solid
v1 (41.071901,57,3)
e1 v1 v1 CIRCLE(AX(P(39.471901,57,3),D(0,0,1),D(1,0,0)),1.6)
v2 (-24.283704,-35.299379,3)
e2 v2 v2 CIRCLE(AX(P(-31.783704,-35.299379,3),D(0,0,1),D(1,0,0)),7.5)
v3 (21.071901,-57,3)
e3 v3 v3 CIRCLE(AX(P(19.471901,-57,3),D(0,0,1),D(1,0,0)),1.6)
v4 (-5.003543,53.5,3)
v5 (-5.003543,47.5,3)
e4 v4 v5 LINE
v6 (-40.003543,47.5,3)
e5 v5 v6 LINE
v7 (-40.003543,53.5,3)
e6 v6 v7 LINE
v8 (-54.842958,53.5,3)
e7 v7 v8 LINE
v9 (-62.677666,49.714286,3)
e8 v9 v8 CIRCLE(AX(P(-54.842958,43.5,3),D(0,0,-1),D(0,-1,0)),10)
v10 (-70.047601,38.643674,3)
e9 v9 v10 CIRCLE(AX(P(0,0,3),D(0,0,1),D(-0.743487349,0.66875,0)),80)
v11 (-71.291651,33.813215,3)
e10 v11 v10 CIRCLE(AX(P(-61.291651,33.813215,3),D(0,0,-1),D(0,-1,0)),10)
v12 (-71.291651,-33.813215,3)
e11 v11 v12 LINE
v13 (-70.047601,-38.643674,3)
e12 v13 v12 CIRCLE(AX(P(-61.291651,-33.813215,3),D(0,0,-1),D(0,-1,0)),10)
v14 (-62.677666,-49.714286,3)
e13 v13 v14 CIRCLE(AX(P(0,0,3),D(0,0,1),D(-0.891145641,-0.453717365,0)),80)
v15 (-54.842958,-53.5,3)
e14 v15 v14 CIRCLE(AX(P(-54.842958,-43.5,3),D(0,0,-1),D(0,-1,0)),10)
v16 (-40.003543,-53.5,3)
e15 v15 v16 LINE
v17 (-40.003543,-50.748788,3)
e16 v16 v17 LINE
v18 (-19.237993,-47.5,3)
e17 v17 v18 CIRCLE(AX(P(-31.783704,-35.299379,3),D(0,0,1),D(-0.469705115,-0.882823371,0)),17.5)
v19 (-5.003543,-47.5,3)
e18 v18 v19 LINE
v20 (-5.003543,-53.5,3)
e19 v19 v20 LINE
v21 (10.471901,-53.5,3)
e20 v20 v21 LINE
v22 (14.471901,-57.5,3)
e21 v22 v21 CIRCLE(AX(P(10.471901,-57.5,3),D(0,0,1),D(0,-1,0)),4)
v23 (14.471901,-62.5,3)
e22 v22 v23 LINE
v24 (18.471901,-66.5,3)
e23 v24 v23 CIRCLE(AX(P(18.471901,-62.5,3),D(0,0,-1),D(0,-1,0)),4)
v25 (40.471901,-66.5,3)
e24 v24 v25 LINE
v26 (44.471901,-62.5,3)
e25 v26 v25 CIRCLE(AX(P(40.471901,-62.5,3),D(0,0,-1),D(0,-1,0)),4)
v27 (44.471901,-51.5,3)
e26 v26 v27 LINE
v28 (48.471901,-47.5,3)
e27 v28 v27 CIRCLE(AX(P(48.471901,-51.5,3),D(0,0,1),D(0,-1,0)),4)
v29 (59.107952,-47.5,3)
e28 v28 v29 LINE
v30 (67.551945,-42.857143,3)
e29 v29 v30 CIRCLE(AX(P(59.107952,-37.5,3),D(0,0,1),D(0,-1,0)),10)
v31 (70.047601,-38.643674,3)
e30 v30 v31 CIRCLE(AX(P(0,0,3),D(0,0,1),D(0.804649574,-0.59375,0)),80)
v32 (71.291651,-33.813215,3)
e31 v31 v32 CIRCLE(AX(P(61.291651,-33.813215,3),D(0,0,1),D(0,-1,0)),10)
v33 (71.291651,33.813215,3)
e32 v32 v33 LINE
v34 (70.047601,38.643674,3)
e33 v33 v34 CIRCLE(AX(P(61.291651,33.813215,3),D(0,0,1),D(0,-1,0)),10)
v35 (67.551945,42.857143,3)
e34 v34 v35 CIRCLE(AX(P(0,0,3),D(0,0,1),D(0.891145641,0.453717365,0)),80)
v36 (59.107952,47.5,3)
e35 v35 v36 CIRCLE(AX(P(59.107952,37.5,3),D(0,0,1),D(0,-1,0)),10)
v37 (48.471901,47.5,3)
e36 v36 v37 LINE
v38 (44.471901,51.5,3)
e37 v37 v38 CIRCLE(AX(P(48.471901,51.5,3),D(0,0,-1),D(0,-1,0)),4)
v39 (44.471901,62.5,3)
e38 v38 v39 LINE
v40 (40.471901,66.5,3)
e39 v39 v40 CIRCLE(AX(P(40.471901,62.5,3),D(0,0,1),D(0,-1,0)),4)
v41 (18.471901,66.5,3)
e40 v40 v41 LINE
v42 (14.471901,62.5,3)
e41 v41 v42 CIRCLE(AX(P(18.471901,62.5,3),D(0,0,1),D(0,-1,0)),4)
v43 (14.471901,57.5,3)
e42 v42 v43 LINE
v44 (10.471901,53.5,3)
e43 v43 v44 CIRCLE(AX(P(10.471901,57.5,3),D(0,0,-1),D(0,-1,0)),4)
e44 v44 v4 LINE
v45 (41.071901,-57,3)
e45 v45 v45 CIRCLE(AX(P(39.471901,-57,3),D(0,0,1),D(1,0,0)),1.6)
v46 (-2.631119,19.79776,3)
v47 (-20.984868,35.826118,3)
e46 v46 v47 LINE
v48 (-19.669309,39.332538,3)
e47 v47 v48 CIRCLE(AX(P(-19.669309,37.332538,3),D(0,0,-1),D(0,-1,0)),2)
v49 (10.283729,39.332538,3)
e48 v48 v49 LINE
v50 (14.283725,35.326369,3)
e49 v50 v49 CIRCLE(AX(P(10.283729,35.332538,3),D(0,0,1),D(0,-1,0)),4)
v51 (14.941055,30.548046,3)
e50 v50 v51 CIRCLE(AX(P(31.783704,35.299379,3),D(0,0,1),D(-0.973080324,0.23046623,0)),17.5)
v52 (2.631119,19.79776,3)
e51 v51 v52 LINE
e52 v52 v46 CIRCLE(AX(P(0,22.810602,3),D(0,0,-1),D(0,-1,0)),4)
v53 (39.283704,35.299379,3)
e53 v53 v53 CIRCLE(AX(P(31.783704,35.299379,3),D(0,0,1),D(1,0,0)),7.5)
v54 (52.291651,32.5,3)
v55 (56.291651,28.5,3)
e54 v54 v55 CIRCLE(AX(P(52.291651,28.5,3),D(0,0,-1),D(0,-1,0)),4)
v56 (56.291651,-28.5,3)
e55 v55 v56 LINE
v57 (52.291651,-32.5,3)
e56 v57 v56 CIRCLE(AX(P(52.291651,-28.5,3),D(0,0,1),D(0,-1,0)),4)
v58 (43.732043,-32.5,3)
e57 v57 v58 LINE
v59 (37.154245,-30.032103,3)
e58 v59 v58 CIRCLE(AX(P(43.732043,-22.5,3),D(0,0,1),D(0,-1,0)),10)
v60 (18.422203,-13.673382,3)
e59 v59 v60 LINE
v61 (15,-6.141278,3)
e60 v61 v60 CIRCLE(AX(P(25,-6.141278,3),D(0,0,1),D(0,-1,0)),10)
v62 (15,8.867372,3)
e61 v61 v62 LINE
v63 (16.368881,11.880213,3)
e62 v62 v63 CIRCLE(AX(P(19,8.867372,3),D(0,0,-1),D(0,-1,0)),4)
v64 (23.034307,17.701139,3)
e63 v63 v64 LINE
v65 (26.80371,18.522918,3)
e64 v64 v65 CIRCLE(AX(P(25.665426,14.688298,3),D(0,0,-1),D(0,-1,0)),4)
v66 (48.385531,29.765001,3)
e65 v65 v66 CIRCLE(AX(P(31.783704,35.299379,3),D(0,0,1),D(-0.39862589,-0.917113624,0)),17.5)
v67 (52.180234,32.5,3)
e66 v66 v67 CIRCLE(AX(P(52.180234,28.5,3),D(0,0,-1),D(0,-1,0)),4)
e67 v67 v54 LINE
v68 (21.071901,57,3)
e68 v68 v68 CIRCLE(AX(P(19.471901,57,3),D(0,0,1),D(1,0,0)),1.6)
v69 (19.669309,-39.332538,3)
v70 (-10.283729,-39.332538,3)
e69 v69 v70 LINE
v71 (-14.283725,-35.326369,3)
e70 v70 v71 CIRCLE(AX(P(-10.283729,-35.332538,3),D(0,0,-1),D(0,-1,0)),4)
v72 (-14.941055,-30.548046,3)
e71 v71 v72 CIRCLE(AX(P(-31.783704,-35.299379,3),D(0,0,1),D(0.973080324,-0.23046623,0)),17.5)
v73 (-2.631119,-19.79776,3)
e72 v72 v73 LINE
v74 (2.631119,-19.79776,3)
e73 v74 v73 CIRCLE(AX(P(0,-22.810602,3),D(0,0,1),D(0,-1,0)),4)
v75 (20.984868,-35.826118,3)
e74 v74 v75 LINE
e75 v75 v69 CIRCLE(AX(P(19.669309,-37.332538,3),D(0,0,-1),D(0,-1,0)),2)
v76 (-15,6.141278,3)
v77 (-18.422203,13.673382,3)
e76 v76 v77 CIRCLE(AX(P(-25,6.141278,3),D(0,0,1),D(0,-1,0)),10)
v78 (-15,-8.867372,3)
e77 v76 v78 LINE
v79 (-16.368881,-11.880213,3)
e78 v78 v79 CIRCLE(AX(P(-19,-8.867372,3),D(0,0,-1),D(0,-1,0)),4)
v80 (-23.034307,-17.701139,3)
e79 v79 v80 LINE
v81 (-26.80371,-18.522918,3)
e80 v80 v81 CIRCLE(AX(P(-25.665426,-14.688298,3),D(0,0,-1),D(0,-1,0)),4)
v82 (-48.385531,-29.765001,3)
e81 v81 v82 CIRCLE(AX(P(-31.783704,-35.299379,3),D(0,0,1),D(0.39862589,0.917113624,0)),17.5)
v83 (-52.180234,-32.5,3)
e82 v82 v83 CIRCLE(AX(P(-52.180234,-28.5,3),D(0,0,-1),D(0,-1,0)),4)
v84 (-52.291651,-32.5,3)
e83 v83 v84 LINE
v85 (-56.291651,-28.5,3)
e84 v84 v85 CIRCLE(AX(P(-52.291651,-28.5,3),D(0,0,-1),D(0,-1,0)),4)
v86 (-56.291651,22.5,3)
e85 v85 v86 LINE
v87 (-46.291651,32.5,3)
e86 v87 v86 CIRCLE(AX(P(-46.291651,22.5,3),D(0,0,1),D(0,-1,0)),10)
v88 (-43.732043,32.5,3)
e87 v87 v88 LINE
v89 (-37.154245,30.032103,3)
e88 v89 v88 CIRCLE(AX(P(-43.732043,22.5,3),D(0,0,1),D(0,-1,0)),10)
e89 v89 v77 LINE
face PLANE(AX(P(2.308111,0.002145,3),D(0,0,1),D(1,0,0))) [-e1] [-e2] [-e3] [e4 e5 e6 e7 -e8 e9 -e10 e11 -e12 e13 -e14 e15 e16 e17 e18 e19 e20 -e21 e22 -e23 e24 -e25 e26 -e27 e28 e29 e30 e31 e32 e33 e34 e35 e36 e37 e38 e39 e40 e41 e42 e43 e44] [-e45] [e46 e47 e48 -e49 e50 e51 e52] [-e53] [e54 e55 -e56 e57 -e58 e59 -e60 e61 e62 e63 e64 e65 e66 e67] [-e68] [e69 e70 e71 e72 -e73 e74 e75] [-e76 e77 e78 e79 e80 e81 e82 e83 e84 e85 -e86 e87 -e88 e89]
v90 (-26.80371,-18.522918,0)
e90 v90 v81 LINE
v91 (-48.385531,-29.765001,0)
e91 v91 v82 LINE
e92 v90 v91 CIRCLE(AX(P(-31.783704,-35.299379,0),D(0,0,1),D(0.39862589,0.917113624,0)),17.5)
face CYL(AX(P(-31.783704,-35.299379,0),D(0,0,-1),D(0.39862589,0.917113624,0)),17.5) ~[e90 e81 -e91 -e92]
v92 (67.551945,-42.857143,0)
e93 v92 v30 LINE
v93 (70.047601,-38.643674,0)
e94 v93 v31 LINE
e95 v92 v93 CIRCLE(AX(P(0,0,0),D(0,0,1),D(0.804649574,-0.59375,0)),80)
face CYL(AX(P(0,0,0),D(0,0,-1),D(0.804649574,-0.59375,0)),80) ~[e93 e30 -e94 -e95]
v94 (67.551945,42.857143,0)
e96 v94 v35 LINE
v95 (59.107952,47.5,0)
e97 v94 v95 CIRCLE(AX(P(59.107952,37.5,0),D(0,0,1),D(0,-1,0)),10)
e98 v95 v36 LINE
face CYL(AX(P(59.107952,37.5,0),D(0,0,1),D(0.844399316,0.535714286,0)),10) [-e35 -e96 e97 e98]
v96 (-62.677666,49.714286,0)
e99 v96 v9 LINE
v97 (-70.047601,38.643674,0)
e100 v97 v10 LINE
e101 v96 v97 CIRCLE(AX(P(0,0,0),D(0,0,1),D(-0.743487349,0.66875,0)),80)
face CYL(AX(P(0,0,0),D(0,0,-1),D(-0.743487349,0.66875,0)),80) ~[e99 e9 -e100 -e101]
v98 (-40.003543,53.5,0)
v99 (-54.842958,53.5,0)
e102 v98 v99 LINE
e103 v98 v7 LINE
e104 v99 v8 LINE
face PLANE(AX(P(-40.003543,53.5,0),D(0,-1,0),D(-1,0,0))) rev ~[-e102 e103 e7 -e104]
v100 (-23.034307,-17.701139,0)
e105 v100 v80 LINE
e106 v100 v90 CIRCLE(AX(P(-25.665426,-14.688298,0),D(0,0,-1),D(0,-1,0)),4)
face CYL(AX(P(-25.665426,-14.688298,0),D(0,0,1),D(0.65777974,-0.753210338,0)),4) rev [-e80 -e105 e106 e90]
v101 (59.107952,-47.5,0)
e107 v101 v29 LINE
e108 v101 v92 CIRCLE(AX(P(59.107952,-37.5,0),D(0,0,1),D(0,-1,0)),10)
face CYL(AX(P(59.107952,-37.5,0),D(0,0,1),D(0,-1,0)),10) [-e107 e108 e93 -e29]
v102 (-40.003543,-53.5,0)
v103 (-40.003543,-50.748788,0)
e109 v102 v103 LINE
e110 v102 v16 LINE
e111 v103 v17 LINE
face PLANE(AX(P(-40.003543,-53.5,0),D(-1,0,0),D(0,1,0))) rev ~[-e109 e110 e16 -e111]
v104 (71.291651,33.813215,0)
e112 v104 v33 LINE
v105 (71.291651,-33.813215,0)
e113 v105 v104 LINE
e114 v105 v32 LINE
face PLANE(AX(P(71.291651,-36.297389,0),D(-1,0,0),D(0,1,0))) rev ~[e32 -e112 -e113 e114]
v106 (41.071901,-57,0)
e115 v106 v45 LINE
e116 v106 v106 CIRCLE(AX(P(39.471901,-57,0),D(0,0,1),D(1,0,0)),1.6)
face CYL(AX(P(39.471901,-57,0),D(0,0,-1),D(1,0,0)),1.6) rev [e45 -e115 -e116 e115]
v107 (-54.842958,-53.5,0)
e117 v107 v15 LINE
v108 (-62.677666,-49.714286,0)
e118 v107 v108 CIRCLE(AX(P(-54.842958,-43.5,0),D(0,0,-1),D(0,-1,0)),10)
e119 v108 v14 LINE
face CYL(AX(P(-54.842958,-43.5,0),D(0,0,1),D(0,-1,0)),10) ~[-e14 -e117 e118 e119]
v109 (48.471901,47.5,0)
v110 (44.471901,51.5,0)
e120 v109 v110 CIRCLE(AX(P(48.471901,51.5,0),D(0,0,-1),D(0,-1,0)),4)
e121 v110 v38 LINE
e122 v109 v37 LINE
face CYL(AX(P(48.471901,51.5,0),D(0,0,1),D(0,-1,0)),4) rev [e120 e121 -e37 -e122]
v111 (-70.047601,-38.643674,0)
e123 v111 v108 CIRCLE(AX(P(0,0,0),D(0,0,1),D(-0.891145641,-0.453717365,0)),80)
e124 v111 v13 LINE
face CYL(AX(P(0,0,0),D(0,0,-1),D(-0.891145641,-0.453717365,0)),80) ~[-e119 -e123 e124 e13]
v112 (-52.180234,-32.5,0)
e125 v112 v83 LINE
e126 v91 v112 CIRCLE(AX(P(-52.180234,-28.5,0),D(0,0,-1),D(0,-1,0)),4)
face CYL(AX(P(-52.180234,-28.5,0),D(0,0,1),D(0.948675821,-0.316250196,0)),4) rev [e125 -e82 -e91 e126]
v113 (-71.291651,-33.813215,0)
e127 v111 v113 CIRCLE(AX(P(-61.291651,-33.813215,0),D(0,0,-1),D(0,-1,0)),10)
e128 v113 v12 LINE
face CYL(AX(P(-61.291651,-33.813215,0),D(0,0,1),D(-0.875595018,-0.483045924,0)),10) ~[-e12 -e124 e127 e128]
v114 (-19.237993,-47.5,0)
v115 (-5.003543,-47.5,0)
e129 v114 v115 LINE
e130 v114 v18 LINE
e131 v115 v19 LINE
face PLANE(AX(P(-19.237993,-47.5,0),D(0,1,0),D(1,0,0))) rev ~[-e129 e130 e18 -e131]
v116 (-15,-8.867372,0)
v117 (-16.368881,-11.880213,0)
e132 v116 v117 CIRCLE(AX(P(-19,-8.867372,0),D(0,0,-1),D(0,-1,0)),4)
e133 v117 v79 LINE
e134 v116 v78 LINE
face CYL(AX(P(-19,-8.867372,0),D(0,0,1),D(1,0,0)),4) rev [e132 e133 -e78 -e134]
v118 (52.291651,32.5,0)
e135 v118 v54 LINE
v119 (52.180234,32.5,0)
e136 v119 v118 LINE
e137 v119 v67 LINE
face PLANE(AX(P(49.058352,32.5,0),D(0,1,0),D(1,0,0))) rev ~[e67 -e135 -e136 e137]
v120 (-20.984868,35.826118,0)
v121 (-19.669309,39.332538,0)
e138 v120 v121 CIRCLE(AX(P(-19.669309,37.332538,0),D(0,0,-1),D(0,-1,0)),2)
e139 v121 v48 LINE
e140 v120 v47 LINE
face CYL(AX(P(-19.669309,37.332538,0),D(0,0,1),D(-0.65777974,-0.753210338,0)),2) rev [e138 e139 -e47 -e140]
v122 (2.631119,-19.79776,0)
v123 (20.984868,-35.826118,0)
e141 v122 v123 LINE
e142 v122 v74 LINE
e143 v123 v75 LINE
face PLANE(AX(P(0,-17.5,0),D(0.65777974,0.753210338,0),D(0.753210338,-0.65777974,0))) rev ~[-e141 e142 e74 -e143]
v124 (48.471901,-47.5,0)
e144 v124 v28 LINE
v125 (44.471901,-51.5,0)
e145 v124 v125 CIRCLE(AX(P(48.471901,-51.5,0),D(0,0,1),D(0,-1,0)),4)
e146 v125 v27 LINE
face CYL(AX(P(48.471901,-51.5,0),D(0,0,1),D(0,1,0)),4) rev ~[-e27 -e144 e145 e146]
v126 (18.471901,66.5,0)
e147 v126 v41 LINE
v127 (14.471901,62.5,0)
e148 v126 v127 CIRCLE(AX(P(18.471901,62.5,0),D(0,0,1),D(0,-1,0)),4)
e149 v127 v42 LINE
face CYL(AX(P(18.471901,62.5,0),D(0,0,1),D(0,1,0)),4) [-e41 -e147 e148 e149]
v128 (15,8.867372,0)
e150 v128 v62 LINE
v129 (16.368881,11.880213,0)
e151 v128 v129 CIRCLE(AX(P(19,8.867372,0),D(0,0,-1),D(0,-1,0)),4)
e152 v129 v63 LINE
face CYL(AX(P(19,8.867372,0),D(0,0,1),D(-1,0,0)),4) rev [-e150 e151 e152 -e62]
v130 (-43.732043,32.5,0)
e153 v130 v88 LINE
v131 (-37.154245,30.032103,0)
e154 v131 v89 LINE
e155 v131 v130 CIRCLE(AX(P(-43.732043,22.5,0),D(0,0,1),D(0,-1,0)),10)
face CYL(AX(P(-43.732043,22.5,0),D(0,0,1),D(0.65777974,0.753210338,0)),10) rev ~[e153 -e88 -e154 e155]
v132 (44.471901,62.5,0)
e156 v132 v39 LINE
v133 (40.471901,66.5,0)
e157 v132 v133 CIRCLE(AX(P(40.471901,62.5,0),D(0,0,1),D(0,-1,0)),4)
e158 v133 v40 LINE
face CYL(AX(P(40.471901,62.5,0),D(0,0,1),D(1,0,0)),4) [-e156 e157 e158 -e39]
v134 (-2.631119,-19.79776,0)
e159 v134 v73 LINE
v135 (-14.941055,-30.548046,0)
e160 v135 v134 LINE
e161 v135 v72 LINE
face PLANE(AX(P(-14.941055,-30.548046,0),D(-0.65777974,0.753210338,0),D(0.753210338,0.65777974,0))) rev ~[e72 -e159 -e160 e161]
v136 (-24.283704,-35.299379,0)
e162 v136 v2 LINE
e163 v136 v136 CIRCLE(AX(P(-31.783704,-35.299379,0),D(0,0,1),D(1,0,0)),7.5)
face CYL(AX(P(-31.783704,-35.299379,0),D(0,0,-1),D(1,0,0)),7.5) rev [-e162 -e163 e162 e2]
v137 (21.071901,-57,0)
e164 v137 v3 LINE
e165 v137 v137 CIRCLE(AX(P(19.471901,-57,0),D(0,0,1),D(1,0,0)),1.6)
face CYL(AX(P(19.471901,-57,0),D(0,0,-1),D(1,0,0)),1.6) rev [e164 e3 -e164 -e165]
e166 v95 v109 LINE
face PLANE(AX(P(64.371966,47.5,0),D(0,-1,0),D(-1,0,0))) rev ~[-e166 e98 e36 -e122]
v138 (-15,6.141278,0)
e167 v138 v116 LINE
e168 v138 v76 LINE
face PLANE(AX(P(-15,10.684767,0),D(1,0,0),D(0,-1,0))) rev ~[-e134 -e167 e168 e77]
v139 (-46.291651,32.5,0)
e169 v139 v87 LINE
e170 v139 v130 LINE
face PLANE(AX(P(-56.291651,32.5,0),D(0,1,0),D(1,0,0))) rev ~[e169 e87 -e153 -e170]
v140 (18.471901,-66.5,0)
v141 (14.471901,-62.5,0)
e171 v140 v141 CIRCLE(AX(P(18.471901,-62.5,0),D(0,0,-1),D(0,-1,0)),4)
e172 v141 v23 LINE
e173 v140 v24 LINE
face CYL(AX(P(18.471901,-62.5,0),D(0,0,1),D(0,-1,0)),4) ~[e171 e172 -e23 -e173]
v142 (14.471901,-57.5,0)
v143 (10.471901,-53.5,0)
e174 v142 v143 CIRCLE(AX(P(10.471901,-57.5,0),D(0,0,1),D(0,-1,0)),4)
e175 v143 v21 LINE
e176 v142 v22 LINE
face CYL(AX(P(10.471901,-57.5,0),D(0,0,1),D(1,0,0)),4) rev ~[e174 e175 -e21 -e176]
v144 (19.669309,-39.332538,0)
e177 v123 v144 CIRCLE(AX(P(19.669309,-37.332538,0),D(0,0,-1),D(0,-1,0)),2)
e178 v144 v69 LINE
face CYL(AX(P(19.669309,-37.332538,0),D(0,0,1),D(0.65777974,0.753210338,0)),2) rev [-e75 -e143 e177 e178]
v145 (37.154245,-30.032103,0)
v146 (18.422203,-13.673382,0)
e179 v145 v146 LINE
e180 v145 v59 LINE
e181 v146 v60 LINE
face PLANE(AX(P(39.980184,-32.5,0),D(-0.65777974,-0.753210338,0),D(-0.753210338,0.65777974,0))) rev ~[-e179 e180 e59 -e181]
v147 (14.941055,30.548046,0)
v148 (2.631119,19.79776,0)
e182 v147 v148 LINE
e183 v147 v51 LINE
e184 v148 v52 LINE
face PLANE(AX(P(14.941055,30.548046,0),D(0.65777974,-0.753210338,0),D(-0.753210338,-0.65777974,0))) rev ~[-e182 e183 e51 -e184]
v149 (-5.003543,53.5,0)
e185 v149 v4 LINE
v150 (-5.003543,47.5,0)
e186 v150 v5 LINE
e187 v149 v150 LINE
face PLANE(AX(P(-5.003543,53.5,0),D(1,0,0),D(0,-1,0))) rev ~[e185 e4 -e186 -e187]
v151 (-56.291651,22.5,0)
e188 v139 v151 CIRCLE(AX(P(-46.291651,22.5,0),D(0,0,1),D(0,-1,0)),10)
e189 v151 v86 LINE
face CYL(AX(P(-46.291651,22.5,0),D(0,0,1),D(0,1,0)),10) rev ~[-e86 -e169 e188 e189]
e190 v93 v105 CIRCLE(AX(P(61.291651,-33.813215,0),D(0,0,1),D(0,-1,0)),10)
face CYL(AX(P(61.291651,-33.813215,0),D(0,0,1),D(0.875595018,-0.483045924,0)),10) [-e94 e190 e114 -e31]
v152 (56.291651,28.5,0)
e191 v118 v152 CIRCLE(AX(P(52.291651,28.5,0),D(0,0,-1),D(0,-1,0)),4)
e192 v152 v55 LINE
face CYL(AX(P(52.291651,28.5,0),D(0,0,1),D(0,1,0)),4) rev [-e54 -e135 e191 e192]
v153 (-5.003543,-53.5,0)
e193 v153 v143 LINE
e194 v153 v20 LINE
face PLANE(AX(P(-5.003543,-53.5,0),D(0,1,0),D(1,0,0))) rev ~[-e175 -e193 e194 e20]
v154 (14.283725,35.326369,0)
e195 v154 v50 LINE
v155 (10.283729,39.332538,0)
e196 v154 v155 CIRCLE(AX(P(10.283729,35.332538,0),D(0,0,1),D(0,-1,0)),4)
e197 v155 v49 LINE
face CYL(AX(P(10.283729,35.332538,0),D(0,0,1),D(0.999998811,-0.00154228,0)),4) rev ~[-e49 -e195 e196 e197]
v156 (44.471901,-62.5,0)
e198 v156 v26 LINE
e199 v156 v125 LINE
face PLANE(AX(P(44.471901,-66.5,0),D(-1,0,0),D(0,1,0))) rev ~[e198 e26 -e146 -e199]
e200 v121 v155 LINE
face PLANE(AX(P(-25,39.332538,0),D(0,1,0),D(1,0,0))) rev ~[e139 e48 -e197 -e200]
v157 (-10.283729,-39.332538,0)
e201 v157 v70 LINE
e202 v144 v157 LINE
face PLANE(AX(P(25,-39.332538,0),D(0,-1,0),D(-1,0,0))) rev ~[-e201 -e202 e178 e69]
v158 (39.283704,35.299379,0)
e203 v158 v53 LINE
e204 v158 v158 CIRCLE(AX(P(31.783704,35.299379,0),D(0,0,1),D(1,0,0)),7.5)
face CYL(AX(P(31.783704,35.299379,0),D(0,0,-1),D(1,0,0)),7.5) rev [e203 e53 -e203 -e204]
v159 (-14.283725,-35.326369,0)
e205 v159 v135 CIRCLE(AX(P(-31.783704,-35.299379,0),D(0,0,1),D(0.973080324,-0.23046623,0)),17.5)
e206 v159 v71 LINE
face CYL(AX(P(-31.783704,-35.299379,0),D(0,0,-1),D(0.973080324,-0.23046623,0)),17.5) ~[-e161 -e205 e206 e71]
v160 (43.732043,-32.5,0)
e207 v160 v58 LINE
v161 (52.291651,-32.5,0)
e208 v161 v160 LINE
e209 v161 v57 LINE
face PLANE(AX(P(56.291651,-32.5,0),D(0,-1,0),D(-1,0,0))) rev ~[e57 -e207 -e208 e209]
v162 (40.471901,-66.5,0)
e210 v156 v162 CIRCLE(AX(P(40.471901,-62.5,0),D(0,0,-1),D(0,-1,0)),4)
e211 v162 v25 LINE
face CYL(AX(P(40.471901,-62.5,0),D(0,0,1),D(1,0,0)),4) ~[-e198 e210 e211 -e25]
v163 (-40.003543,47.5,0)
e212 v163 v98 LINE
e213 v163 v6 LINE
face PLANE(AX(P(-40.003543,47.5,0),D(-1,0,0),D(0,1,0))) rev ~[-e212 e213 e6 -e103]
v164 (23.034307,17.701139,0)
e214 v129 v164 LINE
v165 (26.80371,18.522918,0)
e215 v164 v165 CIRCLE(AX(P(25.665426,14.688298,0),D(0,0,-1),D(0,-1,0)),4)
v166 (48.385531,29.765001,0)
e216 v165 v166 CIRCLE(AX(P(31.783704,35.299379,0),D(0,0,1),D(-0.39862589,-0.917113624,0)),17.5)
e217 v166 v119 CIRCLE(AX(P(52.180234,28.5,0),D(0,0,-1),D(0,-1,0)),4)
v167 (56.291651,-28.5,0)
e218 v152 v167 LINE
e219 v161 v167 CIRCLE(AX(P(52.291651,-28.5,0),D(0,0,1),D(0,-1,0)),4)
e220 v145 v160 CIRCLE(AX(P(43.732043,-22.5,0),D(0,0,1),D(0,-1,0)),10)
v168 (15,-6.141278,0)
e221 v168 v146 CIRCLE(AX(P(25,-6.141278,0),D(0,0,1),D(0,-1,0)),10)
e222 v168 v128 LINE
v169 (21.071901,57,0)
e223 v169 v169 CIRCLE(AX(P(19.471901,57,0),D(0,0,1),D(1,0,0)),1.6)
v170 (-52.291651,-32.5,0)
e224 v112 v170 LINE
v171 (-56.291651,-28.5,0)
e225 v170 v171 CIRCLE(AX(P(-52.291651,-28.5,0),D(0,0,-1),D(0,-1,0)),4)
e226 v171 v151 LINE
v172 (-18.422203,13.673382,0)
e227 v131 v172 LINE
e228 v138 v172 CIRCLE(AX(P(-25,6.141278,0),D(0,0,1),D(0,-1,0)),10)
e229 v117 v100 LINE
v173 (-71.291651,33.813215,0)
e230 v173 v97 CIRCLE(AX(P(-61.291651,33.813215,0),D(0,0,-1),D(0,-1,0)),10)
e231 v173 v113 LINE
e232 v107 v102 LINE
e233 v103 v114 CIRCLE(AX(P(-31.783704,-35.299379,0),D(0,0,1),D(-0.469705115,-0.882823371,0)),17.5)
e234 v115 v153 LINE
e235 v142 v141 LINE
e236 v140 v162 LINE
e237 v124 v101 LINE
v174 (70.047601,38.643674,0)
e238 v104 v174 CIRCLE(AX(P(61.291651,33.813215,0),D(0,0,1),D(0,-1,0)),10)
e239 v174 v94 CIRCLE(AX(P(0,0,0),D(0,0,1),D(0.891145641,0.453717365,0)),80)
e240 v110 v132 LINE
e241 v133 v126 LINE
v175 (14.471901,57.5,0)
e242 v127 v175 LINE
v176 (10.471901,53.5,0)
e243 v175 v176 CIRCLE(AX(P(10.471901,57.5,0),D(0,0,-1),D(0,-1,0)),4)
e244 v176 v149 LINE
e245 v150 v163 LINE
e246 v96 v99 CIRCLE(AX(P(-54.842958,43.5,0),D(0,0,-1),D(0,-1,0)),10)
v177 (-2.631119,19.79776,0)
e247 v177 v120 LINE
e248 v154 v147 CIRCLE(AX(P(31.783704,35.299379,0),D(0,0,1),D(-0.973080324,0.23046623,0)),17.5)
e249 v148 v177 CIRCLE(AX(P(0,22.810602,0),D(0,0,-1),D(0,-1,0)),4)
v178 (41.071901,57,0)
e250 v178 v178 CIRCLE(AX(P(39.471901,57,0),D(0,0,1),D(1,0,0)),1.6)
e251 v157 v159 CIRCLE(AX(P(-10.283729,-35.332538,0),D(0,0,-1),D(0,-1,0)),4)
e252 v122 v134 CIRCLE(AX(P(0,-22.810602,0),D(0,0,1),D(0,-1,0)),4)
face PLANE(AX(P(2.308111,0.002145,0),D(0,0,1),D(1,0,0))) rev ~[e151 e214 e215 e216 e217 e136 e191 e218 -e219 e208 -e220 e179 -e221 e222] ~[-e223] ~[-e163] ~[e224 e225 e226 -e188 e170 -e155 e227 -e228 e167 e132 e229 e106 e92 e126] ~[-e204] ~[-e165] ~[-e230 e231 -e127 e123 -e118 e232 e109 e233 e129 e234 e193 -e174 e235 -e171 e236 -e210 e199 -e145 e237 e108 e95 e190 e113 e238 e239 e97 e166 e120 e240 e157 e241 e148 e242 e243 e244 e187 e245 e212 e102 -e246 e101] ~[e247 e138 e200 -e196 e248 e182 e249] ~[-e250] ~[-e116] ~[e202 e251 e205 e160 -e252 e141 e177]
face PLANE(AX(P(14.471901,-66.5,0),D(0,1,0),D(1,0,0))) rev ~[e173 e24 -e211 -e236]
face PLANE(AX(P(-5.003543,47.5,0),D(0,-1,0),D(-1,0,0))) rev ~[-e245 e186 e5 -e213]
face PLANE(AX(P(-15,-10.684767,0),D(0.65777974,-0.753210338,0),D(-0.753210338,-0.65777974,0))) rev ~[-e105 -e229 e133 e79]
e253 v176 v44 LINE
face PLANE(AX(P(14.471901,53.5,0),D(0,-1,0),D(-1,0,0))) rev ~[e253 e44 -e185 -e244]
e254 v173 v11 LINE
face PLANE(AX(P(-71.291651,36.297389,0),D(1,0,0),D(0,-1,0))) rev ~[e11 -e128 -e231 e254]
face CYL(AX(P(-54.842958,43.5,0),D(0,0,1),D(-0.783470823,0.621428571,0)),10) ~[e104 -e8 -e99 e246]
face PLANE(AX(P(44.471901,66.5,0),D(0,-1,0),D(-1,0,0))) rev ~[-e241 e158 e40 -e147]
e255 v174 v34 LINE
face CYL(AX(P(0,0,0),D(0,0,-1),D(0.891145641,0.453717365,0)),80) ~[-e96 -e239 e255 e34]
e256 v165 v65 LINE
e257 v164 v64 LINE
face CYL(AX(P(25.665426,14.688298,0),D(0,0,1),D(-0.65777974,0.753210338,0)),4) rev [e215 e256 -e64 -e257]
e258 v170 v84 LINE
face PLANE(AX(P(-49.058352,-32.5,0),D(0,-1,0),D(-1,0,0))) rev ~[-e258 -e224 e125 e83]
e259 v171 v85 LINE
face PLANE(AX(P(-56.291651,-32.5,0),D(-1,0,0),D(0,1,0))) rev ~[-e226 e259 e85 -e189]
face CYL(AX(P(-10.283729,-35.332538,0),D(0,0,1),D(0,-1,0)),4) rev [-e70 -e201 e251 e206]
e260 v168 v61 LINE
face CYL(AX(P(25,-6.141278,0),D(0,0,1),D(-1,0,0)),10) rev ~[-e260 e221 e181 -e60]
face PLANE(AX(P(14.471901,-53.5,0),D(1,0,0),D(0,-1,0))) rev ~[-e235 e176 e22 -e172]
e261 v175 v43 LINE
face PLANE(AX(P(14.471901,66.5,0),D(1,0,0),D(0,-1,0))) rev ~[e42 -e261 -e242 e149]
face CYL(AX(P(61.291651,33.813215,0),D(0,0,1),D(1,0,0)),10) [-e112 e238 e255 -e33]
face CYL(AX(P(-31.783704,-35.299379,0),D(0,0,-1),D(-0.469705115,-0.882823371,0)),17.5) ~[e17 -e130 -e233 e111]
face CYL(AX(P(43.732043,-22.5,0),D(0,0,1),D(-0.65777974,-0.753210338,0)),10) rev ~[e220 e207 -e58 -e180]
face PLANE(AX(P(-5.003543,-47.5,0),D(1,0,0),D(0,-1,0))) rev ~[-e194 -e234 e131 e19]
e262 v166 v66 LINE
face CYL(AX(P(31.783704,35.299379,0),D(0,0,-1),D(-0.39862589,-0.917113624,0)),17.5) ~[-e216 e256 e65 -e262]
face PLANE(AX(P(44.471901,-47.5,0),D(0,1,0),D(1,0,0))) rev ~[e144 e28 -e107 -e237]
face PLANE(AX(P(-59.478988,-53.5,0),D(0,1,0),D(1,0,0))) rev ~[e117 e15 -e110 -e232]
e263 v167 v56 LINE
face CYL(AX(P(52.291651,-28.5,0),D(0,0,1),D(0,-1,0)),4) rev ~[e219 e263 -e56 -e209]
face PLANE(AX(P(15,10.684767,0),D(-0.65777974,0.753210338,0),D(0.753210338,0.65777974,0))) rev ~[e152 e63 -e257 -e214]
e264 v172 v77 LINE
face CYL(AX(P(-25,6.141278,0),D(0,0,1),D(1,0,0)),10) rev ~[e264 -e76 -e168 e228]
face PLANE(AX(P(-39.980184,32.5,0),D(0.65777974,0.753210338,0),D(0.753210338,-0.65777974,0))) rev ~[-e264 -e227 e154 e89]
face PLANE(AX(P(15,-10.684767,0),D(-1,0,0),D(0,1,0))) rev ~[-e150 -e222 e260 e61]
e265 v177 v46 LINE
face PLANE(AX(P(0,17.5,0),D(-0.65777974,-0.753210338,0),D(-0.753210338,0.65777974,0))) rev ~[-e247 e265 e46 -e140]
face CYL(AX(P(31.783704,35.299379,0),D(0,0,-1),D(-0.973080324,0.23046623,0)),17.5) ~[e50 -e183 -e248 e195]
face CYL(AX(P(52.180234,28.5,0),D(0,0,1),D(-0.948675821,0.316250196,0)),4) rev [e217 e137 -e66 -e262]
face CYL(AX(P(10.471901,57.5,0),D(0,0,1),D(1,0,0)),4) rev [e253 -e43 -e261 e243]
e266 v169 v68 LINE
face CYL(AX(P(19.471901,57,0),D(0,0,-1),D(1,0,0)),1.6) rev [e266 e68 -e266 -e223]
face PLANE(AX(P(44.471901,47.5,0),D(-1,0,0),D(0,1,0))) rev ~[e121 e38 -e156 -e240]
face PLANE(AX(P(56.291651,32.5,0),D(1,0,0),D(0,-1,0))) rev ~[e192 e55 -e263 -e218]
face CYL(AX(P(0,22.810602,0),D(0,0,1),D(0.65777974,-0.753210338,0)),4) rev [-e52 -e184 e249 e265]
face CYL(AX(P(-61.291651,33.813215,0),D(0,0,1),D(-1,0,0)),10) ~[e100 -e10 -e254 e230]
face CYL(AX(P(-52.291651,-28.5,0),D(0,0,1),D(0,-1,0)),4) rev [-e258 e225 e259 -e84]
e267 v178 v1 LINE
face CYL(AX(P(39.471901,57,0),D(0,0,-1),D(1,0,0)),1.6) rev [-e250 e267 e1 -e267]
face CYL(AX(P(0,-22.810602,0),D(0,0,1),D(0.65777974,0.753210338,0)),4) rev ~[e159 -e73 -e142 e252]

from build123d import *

# Parameters (mm, degrees)
ESBO_O1_R                = 7.5
ESBO_O1_R_2              = 1.6
RESSALTO_EXTRUS_O1_DEPTH = 3
FILETE2_R                = 10
FILETE3_R                = 4
FILETE4_R                = 2


with BuildPart() as part:
    # Esboço1 → Ressalto-extrusão1 (new body)
    with BuildSketch(Plane.XY):
        with BuildLine():
            Line((14.471901241, -53.5), (14.471901241, -66.5))
            Line((14.471901241, -66.5), (44.471901241, -66.5))
            Line((44.471901241, -66.5), (44.471901241, -47.5))
            Line((44.471901241, -47.5), (64.371965948, -47.5))
            ThreePointArc((64.371965948, -47.5), (68.06268346, -42.041302552), (71.291651246, -36.297389198))
            Line((71.291651246, -36.297389198), (71.291651246, 36.297389198))
            ThreePointArc((71.291651246, 36.297389198), (68.06268346, 42.041302552), (64.371965948, 47.5))
            Line((64.371965948, 47.5), (44.471901241, 47.5))
            Line((44.471901241, 47.5), (44.471901241, 66.5))
            Line((44.471901241, 66.5), (14.471901241, 66.5))
            Line((14.471901241, 66.5), (14.471901241, 53.5))
            Line((14.471901241, 53.5), (-5.003543323, 53.5))
            Line((-5.003543323, 53.5), (-5.003543323, 47.5))
            Line((-5.003543323, 47.5), (-40.003543323, 47.5))
            Line((-40.003543323, 47.5), (-40.003543323, 53.5))
            Line((-40.003543323, 53.5), (-59.478987886, 53.5))
            ThreePointArc((-59.478987886, 53.5), (-65.948635083, 45.285511266), (-71.291651246, 36.297389198))
            Line((-71.291651246, 36.297389198), (-71.291651246, -36.297389198))
            ThreePointArc((-71.291651246, -36.297389198), (-65.948635083, -45.285511266), (-59.478987886, -53.5))
            Line((-59.478987886, -53.5), (-40.003543323, -53.5))
            Line((-40.003543323, -53.5), (-40.003543323, -50.748788204))
            ThreePointArc((-40.003543323, -50.748788204), (-29.078718374, -52.589059769), (-19.237993286, -47.5))
            Line((-19.237993286, -47.5), (-5.003543323, -47.5))
            Line((-5.003543323, -47.5), (-5.003543323, -53.5))
            Line((-5.003543323, -53.5), (14.471901241, -53.5))
        make_face()
        with Locations((-31.783703802, -35.29937921)):
            Circle(ESBO_O1_R, mode=Mode.SUBTRACT)
        with Locations((19.471901241, -57)):
            Circle(ESBO_O1_R_2, mode=Mode.SUBTRACT)
        with Locations((39.471901241, -57)):
            Circle(ESBO_O1_R_2, mode=Mode.SUBTRACT)
        with BuildLine():
            Line((25, -39.332538239), (-14.754798134, -39.332538239))
            ThreePointArc((-14.754798134, -39.332538239), (-14.287636143, -34.928412284), (-14.941054623, -30.548045856))
            Line((-14.941054623, -30.548045856), (0, -17.5))
            Line((0, -17.5), (25, -39.332538239))
        make_face(mode=Mode.SUBTRACT)
        with BuildLine():
            Line((-15, -10.684767074), (-24.807750727, -19.249890785))
            ThreePointArc((-24.807750727, -19.249890785), (-40.174599446, -19.942202702), (-49.058352164, -32.5))
            Line((-49.058352164, -32.5), (-56.291651246, -32.5))
            Line((-56.291651246, -32.5), (-56.291651246, 32.5))
            Line((-56.291651246, 32.5), (-39.980184035, 32.5))
            Line((-39.980184035, 32.5), (-15, 10.684767074))
            Line((-15, 10.684767074), (-15, -10.684767074))
        make_face(mode=Mode.SUBTRACT)
        with BuildLine():
            Line((49.058352164, 32.5), (56.291651246, 32.5))
            Line((56.291651246, 32.5), (56.291651246, -32.5))
            Line((56.291651246, -32.5), (39.980184035, -32.5))
            Line((39.980184035, -32.5), (15, -10.684767074))
            Line((15, -10.684767074), (15, 10.684767074))
            Line((15, 10.684767074), (24.807750727, 19.249890785))
            ThreePointArc((24.807750727, 19.249890785), (40.174599446, 19.942202702), (49.058352164, 32.5))
        make_face(mode=Mode.SUBTRACT)
        with BuildLine():
            Line((0, 17.5), (-25, 39.332538239))
            Line((-25, 39.332538239), (14.754798134, 39.332538239))
            ThreePointArc((14.754798134, 39.332538239), (14.287636143, 34.928412284), (14.941054623, 30.548045856))
            Line((14.941054623, 30.548045856), (0, 17.5))
        make_face(mode=Mode.SUBTRACT)
        with Locations((19.471901241, 57)):
            Circle(ESBO_O1_R_2, mode=Mode.SUBTRACT)
        with Locations((39.471901241, 57)):
            Circle(ESBO_O1_R_2, mode=Mode.SUBTRACT)
        with Locations((31.783703802, 35.29937921)):
            Circle(ESBO_O1_R, mode=Mode.SUBTRACT)
    extrude(amount=RESSALTO_EXTRUS_O1_DEPTH)

    # Filete2
    filete2_edges = [part.edges().sort_by_distance(p)[0] for p in [
        (-15, 10.684767074, 1.5),
        (-39.980184035, 32.5, 1.5),
        (-56.291651246, 32.5, 1.5),
        (-59.478987886, -53.5, 1.5),
        (-71.291651246, -36.297389198, 1.5),
        (-71.291651246, 36.297389198, 1.5),
        (-59.478987886, 53.5, 1.5),
        (64.371965948, 47.5, 1.5),
        (71.291651246, 36.297389198, 1.5),
        (71.291651246, -36.297389198, 1.5),
        (64.371965948, -47.5, 1.5),
        (15, -10.684767074, 1.5),
        (39.980184035, -32.5, 1.5),
    ]]
    fillet(filete2_edges, radius=FILETE2_R)

    # Filete3
    filete3_edges = [part.edges().sort_by_distance(p)[0] for p in [
        (56.291651246, -32.5, 1.5),
        (56.291651246, 32.5, 1.5),
        (49.058352164, 32.5, 1.5),
        (24.807750727, 19.249890785, 1.5),
        (14.754798134, 39.332538239, 1.5),
        (0, 17.5, 1.5),
        (-15, -10.684767074, 1.5),
        (-56.291651246, -32.5, 1.5),
        (-49.058352164, -32.5, 1.5),
        (-24.807750727, -19.249890785, 1.5),
        (-14.754798134, -39.332538239, 1.5),
        (0, -17.5, 1.5),
        (14.471901241, 53.5, 1.5),
        (14.471901241, 66.5, 1.5),
        (44.471901241, 66.5, 1.5),
        (44.471901241, 47.5, 1.5),
        (44.471901241, -47.5, 1.5),
        (44.471901241, -66.5, 1.5),
        (14.471901241, -66.5, 1.5),
        (14.471901241, -53.5, 1.5),
        (15, 10.684767074, 1.5),
    ]]
    fillet(filete3_edges, radius=FILETE3_R)

    # Filete4
    filete4_edges = [part.edges().sort_by_distance(p)[0] for p in [
        (-25, 39.332538239, 1.5),
        (25, -39.332538239, 1.5),
    ]]
    fillet(filete4_edges, radius=FILETE4_R)


solid = part.part
